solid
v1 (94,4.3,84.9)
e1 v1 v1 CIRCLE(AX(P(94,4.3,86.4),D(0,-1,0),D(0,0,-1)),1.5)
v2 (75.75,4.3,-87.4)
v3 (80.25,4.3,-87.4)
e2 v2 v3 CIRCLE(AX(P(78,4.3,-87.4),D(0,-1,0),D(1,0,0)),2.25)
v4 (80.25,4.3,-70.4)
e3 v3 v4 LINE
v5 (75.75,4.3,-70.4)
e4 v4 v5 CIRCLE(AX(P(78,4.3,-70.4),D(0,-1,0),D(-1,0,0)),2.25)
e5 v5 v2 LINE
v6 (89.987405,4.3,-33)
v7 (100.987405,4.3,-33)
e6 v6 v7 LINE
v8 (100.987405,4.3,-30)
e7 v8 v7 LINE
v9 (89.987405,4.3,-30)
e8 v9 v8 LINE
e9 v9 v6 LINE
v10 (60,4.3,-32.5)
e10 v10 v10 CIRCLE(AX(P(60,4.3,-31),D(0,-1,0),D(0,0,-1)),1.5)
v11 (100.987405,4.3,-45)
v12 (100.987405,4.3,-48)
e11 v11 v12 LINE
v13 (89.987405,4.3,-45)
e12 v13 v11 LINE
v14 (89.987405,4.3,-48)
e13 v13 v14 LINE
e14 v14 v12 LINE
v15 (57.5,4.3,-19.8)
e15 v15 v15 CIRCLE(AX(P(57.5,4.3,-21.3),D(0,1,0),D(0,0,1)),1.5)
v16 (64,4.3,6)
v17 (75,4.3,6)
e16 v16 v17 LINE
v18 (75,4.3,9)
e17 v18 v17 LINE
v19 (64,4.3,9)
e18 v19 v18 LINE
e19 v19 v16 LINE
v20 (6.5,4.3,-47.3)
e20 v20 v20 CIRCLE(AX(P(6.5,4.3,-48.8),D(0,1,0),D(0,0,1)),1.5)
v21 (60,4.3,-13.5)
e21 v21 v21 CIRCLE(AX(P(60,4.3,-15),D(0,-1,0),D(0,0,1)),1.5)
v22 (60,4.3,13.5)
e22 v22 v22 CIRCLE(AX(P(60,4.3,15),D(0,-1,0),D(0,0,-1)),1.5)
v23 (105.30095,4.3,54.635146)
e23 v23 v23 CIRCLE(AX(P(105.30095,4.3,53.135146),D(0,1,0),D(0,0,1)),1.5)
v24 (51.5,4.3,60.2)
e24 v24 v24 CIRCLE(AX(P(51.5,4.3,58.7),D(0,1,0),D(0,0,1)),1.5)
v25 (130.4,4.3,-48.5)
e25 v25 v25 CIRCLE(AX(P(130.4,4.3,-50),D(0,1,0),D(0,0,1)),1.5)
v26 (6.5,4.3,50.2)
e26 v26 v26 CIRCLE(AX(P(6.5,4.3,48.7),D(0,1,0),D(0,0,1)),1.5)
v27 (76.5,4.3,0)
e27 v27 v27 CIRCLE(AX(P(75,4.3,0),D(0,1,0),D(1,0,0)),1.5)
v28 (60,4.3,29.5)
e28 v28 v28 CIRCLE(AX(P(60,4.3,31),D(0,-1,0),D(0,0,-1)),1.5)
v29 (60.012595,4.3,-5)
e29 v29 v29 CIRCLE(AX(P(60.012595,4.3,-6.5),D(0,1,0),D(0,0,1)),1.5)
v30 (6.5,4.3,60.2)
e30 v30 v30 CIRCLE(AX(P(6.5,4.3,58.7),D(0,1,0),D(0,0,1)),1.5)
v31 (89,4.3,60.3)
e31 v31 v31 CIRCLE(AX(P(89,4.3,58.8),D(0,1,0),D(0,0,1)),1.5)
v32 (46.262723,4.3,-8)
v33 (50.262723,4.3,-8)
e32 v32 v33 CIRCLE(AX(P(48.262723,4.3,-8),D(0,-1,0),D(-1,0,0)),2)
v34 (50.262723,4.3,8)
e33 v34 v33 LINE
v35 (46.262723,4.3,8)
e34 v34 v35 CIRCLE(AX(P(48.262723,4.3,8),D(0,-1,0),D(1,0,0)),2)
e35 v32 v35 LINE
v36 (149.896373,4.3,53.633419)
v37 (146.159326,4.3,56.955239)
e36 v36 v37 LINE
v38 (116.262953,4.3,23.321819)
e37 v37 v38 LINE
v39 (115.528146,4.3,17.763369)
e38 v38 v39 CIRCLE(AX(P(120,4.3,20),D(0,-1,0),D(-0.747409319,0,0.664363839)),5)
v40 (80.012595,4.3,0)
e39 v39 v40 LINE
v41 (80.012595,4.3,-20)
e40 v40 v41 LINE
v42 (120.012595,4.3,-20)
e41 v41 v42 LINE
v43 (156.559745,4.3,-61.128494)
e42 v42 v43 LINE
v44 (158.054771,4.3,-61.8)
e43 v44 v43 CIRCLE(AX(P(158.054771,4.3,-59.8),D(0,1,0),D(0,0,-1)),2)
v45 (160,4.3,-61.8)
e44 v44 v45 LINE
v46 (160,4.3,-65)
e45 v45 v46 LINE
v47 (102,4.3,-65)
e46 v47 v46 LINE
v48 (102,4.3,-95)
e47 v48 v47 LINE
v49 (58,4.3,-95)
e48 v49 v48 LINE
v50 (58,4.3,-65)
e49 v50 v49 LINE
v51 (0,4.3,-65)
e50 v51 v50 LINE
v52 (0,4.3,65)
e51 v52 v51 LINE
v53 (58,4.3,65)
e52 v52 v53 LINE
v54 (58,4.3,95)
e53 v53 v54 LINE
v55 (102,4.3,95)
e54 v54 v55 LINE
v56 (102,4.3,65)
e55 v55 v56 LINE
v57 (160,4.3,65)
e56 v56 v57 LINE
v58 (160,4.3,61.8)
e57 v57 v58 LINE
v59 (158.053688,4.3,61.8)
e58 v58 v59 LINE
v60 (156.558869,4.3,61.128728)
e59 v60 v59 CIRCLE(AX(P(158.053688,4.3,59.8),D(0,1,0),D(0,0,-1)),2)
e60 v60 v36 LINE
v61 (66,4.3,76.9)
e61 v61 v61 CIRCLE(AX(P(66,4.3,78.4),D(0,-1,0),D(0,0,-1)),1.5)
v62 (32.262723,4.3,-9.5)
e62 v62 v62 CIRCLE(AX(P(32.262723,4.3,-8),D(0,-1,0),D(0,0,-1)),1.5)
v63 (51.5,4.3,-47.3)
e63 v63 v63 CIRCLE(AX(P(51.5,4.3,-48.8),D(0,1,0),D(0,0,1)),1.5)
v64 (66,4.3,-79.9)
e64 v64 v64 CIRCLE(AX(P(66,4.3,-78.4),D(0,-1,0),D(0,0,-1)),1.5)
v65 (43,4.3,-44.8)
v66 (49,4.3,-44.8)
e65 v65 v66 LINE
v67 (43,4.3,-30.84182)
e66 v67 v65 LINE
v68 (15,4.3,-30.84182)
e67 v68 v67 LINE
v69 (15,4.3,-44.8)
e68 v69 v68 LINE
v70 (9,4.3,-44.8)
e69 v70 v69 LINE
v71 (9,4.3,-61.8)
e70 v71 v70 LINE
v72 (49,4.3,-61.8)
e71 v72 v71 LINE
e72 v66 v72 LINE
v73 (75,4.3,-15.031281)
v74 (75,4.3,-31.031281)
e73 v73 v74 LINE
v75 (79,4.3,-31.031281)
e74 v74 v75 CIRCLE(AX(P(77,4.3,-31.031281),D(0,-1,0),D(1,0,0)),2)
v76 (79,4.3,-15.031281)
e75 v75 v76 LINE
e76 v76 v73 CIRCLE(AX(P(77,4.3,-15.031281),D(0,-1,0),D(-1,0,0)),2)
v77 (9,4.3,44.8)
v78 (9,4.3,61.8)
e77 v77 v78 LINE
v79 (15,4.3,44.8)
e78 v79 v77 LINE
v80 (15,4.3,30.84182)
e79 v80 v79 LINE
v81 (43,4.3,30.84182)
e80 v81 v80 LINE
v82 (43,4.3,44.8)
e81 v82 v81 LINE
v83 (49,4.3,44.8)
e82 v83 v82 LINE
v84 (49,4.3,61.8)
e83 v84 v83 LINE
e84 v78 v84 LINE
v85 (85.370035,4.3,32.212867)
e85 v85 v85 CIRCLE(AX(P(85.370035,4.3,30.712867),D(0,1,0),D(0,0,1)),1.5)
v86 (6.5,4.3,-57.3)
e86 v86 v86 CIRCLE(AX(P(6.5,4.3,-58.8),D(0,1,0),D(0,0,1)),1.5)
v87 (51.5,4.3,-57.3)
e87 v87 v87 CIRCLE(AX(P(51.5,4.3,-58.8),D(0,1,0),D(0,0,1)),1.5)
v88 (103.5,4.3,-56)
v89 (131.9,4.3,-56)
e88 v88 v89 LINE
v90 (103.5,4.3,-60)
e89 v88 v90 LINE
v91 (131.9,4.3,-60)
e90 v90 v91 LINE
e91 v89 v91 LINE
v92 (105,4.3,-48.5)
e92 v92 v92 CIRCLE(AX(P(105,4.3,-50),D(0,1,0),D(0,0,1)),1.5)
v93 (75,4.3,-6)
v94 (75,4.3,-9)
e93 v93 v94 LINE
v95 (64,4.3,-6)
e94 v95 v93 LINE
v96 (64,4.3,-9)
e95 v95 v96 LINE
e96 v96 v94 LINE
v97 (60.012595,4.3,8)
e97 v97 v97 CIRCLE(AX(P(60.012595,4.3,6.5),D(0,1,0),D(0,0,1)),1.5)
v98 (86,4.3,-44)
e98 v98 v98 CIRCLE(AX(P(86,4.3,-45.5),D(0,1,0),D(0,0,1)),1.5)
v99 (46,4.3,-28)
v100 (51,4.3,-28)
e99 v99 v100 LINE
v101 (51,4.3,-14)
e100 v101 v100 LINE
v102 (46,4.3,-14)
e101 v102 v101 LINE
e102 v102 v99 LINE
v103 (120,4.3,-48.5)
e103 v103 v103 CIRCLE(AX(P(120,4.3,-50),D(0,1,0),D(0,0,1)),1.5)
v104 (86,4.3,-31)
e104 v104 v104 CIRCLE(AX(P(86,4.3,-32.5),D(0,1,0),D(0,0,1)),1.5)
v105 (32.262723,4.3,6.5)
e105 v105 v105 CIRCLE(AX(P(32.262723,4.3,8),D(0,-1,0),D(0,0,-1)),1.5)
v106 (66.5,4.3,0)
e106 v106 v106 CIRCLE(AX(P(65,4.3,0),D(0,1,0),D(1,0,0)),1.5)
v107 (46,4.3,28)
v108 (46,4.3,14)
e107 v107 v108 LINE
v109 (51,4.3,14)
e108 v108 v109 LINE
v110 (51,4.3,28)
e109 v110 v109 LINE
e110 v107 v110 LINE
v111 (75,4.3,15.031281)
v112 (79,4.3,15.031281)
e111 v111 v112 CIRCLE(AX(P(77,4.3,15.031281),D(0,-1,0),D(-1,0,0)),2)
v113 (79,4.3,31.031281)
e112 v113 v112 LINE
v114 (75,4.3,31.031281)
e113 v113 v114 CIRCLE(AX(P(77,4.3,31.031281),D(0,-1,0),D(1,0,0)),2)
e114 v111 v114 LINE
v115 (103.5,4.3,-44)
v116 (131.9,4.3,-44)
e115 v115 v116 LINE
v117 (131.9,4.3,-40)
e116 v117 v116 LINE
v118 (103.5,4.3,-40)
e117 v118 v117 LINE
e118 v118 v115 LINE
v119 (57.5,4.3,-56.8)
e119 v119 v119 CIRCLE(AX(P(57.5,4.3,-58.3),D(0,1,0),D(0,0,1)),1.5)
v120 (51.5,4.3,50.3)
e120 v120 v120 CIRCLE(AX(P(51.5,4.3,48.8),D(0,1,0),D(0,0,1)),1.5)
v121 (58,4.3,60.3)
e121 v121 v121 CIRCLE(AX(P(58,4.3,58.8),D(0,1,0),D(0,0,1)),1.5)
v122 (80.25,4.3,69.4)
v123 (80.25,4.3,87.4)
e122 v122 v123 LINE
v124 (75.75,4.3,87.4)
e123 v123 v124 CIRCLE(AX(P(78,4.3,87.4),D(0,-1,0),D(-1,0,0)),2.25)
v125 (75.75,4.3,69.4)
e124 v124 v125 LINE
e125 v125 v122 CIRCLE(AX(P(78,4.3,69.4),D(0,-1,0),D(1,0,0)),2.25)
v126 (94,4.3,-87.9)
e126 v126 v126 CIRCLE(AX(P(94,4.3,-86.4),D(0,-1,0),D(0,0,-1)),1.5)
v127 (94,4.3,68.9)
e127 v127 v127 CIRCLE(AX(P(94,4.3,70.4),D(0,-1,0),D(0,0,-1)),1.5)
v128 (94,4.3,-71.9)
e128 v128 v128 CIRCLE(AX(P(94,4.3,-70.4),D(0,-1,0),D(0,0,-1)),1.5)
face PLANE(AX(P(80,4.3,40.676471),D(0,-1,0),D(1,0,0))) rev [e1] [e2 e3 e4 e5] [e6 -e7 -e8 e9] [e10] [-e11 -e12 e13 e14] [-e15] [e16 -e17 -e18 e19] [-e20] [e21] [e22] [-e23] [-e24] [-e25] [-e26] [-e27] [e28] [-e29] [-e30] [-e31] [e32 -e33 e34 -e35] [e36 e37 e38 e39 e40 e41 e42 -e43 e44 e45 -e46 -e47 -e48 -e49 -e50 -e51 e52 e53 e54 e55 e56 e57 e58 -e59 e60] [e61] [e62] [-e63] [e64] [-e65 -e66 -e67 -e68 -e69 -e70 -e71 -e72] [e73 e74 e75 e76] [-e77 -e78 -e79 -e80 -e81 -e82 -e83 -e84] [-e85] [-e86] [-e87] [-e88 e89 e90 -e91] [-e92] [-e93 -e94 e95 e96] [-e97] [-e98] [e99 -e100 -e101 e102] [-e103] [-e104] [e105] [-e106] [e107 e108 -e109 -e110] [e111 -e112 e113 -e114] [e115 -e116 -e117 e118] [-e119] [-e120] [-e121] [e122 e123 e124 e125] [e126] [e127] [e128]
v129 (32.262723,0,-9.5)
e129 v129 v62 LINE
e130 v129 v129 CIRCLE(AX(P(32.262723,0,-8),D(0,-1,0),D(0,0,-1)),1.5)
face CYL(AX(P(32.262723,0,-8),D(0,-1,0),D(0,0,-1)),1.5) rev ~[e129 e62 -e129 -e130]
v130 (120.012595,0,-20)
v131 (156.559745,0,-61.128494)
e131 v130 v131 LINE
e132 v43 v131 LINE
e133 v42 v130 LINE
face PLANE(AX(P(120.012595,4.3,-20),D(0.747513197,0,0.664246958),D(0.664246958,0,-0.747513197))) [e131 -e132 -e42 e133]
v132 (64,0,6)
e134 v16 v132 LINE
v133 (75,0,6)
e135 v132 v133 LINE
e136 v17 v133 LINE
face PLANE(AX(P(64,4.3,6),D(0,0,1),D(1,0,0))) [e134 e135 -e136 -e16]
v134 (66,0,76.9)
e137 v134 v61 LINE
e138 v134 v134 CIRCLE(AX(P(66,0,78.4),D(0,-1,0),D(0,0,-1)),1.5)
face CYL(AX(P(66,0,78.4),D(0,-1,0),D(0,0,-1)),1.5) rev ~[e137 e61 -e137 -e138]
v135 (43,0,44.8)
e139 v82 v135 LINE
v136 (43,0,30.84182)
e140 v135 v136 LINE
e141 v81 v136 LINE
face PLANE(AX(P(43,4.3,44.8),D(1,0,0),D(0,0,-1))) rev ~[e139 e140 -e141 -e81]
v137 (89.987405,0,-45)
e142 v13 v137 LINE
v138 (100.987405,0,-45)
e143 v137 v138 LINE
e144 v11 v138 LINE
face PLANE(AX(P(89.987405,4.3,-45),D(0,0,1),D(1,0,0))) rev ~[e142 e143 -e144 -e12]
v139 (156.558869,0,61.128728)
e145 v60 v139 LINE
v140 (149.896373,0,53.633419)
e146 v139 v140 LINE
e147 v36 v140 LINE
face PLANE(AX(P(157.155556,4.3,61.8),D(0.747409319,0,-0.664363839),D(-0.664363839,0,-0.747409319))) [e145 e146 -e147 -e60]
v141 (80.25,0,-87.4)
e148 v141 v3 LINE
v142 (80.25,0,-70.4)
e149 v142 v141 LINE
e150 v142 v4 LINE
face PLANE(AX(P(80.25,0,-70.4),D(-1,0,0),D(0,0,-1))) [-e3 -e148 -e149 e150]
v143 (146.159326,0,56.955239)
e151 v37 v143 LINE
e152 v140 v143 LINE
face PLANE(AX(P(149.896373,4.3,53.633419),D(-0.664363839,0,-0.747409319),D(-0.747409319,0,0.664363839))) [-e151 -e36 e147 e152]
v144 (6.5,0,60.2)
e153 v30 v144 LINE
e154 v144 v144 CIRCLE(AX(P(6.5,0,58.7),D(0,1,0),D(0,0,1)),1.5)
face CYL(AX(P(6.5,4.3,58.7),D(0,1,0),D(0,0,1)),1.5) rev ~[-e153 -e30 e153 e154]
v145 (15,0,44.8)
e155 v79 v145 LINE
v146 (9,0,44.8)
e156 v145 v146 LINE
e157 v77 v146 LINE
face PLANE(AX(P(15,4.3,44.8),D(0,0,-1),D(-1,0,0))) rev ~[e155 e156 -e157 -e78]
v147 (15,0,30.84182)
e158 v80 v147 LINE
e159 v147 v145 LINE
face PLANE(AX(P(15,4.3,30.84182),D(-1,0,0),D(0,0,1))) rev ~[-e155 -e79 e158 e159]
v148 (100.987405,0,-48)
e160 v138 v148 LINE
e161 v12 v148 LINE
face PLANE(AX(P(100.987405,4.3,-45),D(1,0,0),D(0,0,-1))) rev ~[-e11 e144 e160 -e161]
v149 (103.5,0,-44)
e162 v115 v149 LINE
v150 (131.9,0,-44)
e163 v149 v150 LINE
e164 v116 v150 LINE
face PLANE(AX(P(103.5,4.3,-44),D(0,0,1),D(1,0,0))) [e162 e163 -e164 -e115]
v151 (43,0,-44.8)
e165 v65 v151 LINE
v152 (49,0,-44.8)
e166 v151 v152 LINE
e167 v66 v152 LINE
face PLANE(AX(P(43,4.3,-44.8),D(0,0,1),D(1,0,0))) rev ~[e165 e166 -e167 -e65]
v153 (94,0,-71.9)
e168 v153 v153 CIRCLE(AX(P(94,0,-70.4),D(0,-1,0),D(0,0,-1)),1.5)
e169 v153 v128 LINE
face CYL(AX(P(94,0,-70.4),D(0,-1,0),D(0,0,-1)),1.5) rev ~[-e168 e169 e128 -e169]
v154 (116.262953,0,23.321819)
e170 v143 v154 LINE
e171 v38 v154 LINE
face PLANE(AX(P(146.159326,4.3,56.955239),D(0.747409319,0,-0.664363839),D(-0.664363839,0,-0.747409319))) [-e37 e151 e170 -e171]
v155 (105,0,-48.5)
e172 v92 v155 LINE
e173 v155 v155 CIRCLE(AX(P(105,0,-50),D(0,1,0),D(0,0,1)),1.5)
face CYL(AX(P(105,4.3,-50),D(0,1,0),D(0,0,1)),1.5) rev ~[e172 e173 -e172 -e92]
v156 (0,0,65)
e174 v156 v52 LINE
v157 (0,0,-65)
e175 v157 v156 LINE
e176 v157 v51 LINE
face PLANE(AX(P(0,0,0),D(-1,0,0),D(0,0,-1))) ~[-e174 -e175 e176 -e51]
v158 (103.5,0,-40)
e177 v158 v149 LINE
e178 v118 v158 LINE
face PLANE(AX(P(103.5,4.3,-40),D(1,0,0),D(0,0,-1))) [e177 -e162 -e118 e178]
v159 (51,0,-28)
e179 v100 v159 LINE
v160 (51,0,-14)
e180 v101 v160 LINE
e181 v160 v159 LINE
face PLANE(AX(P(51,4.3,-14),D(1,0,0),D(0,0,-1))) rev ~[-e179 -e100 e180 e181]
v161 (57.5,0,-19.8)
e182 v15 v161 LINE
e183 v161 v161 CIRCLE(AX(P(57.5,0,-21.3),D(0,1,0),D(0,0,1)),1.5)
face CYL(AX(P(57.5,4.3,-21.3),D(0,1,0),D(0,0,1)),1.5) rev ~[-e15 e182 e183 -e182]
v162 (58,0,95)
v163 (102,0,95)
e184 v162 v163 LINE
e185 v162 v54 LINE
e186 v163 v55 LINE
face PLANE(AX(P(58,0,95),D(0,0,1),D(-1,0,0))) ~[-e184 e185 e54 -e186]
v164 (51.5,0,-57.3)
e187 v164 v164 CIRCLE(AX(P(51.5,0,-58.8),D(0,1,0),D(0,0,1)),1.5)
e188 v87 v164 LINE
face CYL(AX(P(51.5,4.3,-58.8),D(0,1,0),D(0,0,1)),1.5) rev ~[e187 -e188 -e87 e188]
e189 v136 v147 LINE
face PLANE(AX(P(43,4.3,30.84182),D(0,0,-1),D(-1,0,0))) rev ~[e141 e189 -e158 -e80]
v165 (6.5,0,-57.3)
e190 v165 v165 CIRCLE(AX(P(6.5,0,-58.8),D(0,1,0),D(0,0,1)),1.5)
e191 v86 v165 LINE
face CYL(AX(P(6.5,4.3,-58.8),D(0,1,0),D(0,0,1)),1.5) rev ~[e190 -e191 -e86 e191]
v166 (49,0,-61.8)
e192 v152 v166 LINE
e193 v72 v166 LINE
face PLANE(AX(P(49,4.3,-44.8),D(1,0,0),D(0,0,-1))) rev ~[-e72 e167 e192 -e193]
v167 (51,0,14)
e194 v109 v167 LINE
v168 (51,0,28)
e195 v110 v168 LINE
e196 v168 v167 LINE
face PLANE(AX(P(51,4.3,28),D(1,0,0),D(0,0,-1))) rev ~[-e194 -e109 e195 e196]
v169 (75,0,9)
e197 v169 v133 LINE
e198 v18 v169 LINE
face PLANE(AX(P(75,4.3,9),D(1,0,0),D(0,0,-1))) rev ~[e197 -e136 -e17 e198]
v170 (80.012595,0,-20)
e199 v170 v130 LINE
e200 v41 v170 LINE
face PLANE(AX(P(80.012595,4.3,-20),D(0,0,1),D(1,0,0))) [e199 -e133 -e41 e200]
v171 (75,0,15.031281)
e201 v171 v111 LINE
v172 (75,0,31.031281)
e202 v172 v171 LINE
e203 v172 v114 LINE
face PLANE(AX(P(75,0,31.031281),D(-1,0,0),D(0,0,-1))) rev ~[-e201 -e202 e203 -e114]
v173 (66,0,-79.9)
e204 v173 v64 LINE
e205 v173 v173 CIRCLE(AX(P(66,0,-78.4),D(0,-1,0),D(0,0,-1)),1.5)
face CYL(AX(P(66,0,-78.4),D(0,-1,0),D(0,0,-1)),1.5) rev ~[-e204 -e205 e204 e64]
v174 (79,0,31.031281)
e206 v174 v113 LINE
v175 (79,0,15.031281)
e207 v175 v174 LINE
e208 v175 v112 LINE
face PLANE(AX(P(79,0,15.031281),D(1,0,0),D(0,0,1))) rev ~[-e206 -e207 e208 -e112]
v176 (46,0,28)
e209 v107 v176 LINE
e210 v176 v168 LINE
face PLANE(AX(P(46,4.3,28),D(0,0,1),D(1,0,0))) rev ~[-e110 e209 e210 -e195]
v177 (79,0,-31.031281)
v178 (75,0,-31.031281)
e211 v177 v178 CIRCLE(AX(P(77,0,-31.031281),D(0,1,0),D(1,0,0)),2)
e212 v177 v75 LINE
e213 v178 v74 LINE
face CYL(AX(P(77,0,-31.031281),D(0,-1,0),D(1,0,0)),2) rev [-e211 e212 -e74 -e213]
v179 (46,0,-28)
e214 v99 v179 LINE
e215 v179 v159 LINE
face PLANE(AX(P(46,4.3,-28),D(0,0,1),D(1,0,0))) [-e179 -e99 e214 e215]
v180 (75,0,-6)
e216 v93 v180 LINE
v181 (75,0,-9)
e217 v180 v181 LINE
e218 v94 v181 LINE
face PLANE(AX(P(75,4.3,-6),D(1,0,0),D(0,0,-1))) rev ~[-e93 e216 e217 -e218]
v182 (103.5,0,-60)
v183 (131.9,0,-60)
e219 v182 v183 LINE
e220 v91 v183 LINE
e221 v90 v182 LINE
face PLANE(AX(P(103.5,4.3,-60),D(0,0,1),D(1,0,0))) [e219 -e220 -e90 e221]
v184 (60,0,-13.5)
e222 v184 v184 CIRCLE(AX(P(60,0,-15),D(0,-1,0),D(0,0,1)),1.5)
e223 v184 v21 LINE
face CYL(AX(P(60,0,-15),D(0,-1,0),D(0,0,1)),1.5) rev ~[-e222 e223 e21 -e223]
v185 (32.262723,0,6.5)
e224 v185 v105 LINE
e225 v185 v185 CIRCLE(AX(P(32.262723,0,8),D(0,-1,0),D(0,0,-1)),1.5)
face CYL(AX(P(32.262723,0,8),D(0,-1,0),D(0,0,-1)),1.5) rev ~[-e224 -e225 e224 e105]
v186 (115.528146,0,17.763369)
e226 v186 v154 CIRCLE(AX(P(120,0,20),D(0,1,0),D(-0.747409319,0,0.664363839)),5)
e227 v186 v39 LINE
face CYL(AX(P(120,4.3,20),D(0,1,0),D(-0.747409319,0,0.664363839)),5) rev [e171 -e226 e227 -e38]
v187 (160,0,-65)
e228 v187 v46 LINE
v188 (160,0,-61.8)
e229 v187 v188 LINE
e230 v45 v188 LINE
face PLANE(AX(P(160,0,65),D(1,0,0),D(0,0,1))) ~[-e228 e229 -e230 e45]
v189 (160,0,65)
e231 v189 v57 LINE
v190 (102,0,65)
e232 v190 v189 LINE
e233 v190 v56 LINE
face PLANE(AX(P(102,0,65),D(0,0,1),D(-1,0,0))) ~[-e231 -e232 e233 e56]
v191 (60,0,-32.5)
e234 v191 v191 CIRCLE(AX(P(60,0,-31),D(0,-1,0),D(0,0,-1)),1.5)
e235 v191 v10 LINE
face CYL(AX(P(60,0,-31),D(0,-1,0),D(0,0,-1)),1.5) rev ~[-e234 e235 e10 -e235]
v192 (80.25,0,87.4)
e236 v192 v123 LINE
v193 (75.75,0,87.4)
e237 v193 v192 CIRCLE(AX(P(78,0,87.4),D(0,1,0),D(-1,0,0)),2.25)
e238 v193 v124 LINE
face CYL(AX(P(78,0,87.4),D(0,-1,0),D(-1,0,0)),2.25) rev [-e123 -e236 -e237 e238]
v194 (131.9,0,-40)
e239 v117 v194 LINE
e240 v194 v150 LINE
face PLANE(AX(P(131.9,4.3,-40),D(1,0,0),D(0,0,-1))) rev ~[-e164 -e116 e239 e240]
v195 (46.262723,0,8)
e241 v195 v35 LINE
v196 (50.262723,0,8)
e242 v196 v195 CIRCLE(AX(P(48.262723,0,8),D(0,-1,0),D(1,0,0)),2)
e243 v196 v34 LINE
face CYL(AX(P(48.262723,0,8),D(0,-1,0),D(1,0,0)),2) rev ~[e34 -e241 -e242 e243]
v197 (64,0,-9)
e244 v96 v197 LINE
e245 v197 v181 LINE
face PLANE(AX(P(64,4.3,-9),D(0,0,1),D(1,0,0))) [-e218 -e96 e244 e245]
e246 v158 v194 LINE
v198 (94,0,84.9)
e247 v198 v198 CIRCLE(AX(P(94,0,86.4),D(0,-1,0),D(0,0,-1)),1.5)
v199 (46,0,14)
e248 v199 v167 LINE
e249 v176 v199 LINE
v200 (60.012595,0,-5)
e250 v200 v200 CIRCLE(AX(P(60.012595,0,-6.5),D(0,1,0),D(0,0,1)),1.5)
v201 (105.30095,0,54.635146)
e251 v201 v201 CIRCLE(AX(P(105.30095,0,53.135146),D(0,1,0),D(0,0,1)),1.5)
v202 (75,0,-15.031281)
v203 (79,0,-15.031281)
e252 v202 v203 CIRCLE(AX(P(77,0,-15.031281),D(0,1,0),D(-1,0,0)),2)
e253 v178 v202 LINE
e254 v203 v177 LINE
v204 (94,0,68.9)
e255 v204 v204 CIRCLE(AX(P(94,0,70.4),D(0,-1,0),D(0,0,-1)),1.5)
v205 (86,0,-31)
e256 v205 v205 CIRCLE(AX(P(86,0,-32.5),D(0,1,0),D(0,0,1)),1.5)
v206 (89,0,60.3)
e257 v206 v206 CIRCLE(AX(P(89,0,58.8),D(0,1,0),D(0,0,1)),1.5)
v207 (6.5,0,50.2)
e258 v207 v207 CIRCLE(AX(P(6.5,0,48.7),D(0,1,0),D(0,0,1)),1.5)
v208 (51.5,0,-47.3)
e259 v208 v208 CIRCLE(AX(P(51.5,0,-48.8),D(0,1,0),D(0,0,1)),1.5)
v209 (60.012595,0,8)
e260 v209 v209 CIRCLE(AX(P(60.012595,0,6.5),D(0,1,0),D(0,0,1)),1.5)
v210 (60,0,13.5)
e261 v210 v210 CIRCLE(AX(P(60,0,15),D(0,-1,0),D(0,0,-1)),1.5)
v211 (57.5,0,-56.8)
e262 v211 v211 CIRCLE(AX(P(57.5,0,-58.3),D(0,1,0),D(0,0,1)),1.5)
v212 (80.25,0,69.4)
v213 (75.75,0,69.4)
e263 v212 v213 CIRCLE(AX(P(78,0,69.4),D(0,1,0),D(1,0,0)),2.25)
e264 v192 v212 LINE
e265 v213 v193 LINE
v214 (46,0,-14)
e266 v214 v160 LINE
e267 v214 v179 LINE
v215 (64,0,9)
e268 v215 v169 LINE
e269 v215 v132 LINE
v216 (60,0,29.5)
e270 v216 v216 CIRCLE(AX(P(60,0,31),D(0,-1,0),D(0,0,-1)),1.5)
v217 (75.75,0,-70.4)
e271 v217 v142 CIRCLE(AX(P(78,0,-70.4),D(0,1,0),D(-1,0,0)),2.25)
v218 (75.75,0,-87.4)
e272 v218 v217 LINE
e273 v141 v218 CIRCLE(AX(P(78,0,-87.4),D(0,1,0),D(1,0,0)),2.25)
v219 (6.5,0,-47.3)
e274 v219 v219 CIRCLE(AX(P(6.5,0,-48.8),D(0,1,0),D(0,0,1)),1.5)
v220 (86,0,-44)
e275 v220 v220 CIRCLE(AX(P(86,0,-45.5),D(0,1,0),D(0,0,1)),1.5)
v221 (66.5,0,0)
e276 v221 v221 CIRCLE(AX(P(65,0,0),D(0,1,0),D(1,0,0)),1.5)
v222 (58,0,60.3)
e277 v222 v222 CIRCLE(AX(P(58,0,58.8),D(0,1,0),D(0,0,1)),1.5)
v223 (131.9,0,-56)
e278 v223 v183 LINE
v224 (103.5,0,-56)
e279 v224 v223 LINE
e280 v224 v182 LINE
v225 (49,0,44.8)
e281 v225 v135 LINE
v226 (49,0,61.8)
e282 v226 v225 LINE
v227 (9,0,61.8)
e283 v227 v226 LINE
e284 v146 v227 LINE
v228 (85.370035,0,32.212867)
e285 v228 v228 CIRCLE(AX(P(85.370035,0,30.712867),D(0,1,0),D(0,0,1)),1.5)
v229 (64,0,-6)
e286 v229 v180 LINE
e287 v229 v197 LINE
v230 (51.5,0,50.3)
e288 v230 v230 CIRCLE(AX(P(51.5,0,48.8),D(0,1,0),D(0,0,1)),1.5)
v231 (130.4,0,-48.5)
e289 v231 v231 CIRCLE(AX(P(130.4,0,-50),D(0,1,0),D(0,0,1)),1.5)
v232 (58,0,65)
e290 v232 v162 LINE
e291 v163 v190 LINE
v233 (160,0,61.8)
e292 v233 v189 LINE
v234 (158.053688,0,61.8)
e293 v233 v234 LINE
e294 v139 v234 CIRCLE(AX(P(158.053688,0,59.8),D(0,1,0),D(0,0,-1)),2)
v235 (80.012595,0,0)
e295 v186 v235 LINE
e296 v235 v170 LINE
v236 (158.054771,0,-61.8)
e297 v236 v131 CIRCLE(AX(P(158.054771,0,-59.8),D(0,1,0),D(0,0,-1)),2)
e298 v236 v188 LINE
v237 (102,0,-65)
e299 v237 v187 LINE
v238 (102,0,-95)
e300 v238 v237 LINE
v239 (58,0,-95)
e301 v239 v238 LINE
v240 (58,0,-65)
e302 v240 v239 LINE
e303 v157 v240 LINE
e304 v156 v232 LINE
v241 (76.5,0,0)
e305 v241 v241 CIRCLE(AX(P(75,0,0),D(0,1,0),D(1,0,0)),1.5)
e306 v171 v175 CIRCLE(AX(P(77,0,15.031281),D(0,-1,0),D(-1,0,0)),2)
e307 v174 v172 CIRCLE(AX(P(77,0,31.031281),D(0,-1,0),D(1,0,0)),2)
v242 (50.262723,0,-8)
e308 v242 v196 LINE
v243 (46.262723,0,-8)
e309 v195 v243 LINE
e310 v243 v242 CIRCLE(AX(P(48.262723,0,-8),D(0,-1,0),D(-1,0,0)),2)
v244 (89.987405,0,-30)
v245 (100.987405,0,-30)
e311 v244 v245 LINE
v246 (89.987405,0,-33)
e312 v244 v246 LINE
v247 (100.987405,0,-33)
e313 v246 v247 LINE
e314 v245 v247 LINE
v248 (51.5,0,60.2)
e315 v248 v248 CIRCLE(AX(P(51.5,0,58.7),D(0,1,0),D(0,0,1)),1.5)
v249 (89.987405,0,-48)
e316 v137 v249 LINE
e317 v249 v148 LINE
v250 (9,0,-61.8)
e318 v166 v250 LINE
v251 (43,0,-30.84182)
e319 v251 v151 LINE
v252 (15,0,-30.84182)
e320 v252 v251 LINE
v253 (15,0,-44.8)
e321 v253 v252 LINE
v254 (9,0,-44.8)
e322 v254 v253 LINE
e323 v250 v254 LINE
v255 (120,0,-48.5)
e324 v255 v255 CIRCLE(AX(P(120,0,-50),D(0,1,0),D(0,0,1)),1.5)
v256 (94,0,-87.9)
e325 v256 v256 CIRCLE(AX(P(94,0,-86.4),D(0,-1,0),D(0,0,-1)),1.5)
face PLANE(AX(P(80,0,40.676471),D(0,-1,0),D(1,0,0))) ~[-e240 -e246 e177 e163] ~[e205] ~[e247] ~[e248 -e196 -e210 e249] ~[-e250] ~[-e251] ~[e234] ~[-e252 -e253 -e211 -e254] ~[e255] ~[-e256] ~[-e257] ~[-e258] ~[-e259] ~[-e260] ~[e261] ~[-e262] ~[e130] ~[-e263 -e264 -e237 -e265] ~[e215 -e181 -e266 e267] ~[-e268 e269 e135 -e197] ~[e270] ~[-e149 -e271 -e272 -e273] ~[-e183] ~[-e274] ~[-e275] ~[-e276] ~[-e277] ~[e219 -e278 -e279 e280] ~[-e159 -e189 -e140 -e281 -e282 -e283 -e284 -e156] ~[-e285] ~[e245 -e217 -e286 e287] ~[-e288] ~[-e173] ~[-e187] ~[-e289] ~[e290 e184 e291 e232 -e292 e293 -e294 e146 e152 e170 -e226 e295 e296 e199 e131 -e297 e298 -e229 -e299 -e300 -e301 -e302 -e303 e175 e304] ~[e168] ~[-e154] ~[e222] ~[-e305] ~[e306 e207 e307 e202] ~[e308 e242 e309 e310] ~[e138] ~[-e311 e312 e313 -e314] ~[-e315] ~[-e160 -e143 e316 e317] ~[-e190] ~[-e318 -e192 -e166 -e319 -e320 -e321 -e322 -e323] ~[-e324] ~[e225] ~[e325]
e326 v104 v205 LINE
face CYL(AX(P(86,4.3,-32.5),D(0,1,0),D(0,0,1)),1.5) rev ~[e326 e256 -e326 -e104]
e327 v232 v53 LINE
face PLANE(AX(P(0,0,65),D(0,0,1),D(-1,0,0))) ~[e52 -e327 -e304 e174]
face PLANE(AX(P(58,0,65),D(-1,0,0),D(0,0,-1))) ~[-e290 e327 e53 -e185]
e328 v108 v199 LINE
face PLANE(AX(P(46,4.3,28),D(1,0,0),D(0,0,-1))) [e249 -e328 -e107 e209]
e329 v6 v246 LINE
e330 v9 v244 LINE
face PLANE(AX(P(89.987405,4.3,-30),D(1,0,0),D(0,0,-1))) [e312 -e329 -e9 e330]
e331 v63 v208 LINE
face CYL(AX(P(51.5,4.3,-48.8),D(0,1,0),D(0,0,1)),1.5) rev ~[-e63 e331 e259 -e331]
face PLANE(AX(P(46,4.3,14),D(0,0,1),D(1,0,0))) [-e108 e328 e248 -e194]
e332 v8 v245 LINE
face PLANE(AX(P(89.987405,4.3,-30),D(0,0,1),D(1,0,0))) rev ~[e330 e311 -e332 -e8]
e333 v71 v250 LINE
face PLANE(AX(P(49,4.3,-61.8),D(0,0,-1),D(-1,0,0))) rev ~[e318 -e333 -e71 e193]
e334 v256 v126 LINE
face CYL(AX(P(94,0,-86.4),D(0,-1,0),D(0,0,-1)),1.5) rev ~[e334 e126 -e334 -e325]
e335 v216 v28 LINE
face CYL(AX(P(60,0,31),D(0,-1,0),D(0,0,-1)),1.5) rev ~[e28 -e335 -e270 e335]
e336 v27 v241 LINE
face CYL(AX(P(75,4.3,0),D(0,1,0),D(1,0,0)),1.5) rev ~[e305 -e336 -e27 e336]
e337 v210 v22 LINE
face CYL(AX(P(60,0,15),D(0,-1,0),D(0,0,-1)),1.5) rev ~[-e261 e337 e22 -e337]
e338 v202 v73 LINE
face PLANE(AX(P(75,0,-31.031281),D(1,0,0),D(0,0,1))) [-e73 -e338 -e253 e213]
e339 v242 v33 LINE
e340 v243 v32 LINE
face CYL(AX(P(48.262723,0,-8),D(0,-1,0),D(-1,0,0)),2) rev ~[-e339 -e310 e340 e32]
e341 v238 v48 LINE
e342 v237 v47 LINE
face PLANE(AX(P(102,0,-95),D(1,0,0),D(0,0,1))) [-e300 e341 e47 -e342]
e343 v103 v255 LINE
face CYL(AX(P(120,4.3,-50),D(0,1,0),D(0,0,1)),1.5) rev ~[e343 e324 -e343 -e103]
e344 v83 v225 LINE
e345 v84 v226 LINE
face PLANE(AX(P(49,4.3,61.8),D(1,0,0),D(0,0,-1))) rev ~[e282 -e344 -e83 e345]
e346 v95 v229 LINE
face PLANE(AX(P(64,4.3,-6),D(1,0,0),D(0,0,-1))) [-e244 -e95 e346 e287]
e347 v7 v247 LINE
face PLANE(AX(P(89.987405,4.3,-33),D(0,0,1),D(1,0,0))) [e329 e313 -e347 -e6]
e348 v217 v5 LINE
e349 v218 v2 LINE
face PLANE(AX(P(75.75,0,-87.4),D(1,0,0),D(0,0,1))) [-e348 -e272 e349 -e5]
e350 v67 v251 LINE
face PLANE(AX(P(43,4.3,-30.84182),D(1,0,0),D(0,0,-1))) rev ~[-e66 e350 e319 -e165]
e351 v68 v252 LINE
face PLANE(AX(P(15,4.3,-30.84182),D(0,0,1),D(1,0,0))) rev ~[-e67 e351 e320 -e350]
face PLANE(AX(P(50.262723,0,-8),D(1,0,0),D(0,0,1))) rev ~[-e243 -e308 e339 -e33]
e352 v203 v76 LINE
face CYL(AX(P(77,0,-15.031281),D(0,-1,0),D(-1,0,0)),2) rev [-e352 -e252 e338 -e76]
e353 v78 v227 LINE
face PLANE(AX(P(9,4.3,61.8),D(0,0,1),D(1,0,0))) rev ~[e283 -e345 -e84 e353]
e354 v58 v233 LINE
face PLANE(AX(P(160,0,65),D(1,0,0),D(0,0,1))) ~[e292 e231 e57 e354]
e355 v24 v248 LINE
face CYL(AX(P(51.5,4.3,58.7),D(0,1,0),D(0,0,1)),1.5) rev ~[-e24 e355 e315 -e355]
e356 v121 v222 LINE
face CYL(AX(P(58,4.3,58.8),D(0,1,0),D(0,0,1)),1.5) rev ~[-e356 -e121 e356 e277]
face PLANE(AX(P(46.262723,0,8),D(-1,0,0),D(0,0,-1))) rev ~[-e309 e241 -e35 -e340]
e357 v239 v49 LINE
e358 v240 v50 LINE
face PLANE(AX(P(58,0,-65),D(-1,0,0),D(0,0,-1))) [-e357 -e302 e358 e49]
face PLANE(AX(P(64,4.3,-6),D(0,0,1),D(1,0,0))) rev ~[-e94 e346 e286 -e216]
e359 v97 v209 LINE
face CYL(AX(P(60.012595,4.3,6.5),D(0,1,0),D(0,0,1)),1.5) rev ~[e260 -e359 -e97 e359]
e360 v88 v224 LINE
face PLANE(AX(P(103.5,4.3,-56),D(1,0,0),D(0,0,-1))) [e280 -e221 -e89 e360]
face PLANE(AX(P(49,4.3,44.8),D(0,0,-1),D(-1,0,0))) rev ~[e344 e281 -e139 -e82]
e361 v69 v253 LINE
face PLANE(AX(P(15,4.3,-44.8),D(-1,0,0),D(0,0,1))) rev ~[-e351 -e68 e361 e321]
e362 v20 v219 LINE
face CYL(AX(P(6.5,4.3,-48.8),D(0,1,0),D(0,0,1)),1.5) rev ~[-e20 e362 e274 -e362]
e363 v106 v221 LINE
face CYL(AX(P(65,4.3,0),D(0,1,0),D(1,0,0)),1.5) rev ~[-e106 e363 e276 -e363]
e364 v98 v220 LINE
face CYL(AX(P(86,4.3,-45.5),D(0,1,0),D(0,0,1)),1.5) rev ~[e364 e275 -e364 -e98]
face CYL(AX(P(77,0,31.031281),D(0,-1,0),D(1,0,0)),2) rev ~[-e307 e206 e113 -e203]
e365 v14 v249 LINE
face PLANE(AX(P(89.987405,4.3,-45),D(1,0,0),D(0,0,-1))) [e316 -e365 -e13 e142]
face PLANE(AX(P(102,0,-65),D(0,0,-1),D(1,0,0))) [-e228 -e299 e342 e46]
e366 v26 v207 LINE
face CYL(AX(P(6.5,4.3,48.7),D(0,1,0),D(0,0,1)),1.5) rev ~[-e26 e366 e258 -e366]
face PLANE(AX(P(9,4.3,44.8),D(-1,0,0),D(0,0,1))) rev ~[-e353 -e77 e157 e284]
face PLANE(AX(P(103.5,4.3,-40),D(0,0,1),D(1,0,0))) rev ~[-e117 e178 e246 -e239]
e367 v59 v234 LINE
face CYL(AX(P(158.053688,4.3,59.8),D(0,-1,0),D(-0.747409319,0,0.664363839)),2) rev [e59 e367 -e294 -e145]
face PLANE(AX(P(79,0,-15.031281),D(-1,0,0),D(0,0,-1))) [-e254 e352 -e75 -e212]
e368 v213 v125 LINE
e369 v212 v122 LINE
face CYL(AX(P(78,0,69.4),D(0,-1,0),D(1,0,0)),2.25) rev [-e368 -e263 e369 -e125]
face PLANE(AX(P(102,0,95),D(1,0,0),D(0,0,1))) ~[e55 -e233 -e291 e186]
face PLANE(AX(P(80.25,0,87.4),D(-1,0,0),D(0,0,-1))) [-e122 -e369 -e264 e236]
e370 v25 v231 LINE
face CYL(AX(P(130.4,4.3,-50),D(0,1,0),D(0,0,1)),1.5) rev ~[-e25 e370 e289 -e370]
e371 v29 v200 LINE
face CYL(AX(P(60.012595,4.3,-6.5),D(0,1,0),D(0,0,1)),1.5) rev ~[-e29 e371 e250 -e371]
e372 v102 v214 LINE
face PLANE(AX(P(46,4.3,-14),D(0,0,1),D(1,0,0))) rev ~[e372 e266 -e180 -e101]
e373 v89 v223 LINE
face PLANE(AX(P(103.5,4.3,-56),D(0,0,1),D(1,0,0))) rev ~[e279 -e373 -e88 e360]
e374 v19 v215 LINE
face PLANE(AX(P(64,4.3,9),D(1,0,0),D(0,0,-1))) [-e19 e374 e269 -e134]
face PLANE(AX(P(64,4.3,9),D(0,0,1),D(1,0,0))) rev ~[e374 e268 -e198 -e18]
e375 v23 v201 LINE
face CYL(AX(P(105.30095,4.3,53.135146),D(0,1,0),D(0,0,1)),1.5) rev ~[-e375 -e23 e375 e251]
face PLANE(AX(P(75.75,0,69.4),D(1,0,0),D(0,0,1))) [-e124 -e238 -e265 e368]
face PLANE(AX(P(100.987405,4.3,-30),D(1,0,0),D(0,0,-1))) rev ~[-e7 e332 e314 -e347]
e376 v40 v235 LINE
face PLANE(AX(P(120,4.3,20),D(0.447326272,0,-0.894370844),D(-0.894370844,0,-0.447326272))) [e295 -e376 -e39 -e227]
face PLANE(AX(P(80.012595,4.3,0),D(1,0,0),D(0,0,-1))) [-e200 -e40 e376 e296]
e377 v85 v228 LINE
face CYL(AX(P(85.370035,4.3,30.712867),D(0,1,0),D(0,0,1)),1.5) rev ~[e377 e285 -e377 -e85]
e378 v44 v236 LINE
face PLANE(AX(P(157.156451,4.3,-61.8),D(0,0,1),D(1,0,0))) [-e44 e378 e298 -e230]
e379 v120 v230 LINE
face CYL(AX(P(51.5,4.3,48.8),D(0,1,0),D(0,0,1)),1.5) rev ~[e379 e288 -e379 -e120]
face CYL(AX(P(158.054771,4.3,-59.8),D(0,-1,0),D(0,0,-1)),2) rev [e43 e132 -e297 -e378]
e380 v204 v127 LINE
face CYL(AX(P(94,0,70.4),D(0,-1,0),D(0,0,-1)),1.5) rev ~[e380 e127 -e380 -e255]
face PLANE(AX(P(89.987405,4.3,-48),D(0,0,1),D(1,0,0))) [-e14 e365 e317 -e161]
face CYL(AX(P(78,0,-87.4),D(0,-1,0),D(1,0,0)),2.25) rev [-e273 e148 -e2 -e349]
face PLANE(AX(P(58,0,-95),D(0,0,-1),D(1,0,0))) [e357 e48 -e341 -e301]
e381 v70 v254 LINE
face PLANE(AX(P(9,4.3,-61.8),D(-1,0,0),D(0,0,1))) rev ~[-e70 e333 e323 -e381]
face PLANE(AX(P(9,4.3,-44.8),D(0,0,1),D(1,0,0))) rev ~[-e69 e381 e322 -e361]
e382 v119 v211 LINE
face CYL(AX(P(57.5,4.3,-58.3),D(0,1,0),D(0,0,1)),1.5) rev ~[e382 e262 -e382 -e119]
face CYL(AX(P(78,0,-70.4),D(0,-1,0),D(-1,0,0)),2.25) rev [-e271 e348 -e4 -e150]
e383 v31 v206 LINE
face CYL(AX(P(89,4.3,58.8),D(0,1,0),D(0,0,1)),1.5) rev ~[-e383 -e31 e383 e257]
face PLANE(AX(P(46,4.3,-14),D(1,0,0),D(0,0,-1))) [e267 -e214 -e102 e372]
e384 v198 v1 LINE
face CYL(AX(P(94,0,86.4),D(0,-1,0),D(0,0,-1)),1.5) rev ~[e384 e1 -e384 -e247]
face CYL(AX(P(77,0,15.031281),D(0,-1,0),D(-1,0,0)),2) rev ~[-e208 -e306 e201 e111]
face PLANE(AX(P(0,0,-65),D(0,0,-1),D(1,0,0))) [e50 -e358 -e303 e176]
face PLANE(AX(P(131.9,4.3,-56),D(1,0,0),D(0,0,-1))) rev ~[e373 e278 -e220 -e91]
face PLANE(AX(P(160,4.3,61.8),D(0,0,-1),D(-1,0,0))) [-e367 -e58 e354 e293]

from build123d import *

# Parameters (mm, degrees)
BOSS_EXTRUDE1_DEPTH = 4.3
CUT_EXTRUDE1_DEPTH  = 4.5
FILLET1_R           = 2
CUT_EXTRUDE2_DEPTH  = 10
SKETCH8_R           = 1.5
CUT_EXTRUDE3_DEPTH  = 10
SKETCH9_R           = 1.5
CUT_EXTRUDE4_DEPTH  = 10
CUT_EXTRUDE5_DEPTH  = 10
SKETCH11_R          = 1.5
CUT_EXTRUDE6_DEPTH  = 10
SKETCH12_R          = 1.5
CUT_EXTRUDE7_DEPTH  = 10
SKETCH7_R           = 1.5
SKETCH7_W           = 11
SKETCH7_H           = 3
CUT_EXTRUDE8_DEPTH  = 9
SKETCH13_R          = 1.5
CUT_EXTRUDE9_DEPTH  = 10
SKETCH14_R          = 1.5
CUT_EXTRUDE10_DEPTH = 10
SKETCH15_W          = 5
SKETCH15_H          = 14
CUT_EXTRUDE11_DEPTH = 10
SKETCH16_R          = 1.5
CUT_EXTRUDE12_DEPTH = 10
SKETCH18_R          = 1.5
SKETCH18_W          = 28.4
SKETCH18_H          = 4
CUT_EXTRUDE13_DEPTH = 10


with BuildPart() as part:
    # Sketch2 → Boss-Extrude1 (new body)
    with BuildSketch(Plane(origin=(0, 0, 0), x_dir=(1, 0, 0), z_dir=(0, 1, 0))):
        Polygon((0, 0), (0, 65), (58, 65), (58, 95), (102, 95), (102, 65), (160, 65), (160, 0), align=None)
    extrude(amount=BOSS_EXTRUDE1_DEPTH)

    # Mirror1: part across plane


with BuildPart() as part_1:
    add(part.part)
    add(part.part.mirror(Plane(origin=(0, 4.3, 0), x_dir=(1, 0, 0), z_dir=(0, 0, -1))))

    # Sketch3 → Cut-Extrude1 (cut)
    with BuildSketch(Plane(origin=(0, 4.3, 0), x_dir=(1, 0, 0), z_dir=(0, 1, 0))):
        Polygon((160, -61.8), (160, 61.8), (157.156451185, 61.8), (120.012594795, 20), (80.012594795, 20), (80.012594795, 0), (120, -20), (157.155555556, -61.8), align=None)
    extrude(amount=-CUT_EXTRUDE1_DEPTH, mode=Mode.SUBTRACT)

    # Fillet1
    fillet1_edges = [part_1.edges().sort_by_distance(p)[0] for p in [
        (157.156451185, 2.15, -61.8),
        (157.155555556, 2.15, 61.8),
    ]]
    fillet(fillet1_edges, radius=FILLET1_R)

    # Sketch6 → Cut-Extrude2 (cut)
    with BuildSketch(Plane(origin=(0, 4.3, 0), x_dir=(1, 0, 0), z_dir=(0, 1, 0))):
        Polygon((9, -61.8), (49, -61.8), (49, -44.8), (43, -44.8), (43, -30.841820122), (15, -30.841820122), (15, -44.8), (9, -44.8), align=None)
        Polygon((9, 44.8), (15, 44.8), (15, 30.841820122), (43, 30.841820122), (43, 44.8), (49, 44.8), (49, 61.8), (9, 61.8), align=None)
    extrude(amount=-CUT_EXTRUDE2_DEPTH, mode=Mode.SUBTRACT)

    # Sketch8 → Cut-Extrude3 (cut)
    with BuildSketch(Plane(origin=(0, 4.3, 0), x_dir=(1, 0, 0), z_dir=(0, 1, 0))):
        with Locations((6.5, 58.8)):
            Circle(SKETCH8_R)
        with Locations((6.5, 48.8)):
            Circle(SKETCH8_R)
        with Locations((51.5, 48.8)):
            Circle(SKETCH8_R)
        with Locations((51.5, 58.8)):
            Circle(SKETCH8_R)
        with Locations((6.5, -48.7)):
            Circle(SKETCH8_R)
        with Locations((6.5, -58.7)):
            Circle(SKETCH8_R)
        with Locations((51.5, -58.7)):
            Circle(SKETCH8_R)
        with Locations((51.5, -48.8)):
            Circle(SKETCH8_R)
    extrude(amount=-CUT_EXTRUDE3_DEPTH, mode=Mode.SUBTRACT)

    # Sketch9 → Cut-Extrude4 (cut)
    with BuildSketch(Plane.XZ):
        with Locations((94, 70.4)):
            Circle(SKETCH9_R)
        with Locations((66, 78.4)):
            Circle(SKETCH9_R)
        with Locations((66, -78.4)):
            Circle(SKETCH9_R)
        with Locations((94, -86.4)):
            Circle(SKETCH9_R)
        with Locations((94, 86.4)):
            Circle(SKETCH9_R)
        with Locations((94, -70.4)):
            Circle(SKETCH9_R)
        with BuildLine():
            Line((75.75, 69.4), (75.75, 87.4))
            ThreePointArc((75.75, 87.4), (78, 89.65), (80.25, 87.4))
            Line((80.25, 87.4), (80.25, 69.4))
            ThreePointArc((80.25, 69.4), (78, 67.15), (75.75, 69.4))
        make_face()
        with BuildLine():
            Line((75.75, -87.4), (75.75, -70.4))
            ThreePointArc((75.75, -70.4), (78, -68.15), (80.25, -70.4))
            Line((80.25, -70.4), (80.25, -87.4))
            ThreePointArc((80.25, -87.4), (78, -89.65), (75.75, -87.4))
        make_face()
    extrude(amount=-CUT_EXTRUDE4_DEPTH, mode=Mode.SUBTRACT)

    # Sketch10 → Cut-Extrude5 (cut)
    with BuildSketch(Plane(origin=(0, 4.3, 0), x_dir=(1, 0, 0), z_dir=(0, 1, 0))):
        with BuildLine():
            Line((123.321819194, -23.737046593), (149.896372747, -53.633419341))
            Line((149.896372747, -53.633419341), (146.159326154, -56.955238535))
            Line((146.159326154, -56.955238535), (116.262953407, -23.321819194))
            ThreePointArc((116.262953407, -23.321819194), (120.29361011, -15.008628134), (123.321819194, -23.737046593))
        make_face()
    extrude(amount=-CUT_EXTRUDE5_DEPTH, mode=Mode.SUBTRACT)

    # Sketch11 → Cut-Extrude6 (cut)
    with BuildSketch(Plane.XZ):
        with BuildLine():
            ThreePointArc((79, 31.031280577), (77, 33.031280577), (75, 31.031280577))
            Line((75, 31.031280577), (75, 15.031280577))
            ThreePointArc((75, 15.031280577), (77, 13.031280577), (79, 15.031280577))
            Line((79, 15.031280577), (79, 31.031280577))
        make_face()
        with BuildLine():
            ThreePointArc((75, -31.031280577), (77, -33.031280577), (79, -31.031280577))
            Line((79, -31.031280577), (79, -15.031280577))
            ThreePointArc((79, -15.031280577), (77, -13.031280577), (75, -15.031280577))
            Line((75, -15.031280577), (75, -31.031280577))
        make_face()
        with Locations((60, 31)):
            Circle(SKETCH11_R)
        with Locations((60, 15)):
            Circle(SKETCH11_R)
        with Locations((60, -15)):
            Circle(SKETCH11_R)
        with Locations((60, -31)):
            Circle(SKETCH11_R)
    extrude(amount=-CUT_EXTRUDE6_DEPTH, mode=Mode.SUBTRACT)

    # Sketch12 → Cut-Extrude7 (cut)
    with BuildSketch(Plane(origin=(0, 0, 0), x_dir=(-1, 0, 0), z_dir=(0, -1, 0))):
        with BuildLine():
            ThreePointArc((-50.262723036, -8), (-48.262723036, -10), (-46.262723036, -8))
            Line((-46.262723036, -8), (-46.262723036, 8))
            ThreePointArc((-46.262723036, 8), (-48.262723036, 10), (-50.262723036, 8))
            Line((-50.262723036, 8), (-50.262723036, -8))
        make_face()
        with Locations((-32.262723036, -8)):
            Circle(SKETCH12_R)
        with Locations((-32.262723036, 8)):
            Circle(SKETCH12_R)
    extrude(amount=-CUT_EXTRUDE7_DEPTH, mode=Mode.SUBTRACT)

    # Sketch7 → Cut-Extrude8 (cut)
    with BuildSketch(Plane(origin=(0, 4.3, 0), x_dir=(1, 0, 0), z_dir=(0, 1, 0))):
        with Locations((60.012594795, -6.5)):
            Circle(SKETCH7_R)
        with Locations((60.012594795, 6.5)):
            Circle(SKETCH7_R)
        with Locations((86, 32.5)):
            Circle(SKETCH7_R)
        with Locations((86, 45.5)):
            Circle(SKETCH7_R)
        with Locations((69.5, -7.5)):
            Rectangle(SKETCH7_W, SKETCH7_H)
        with Locations((69.5, 7.5)):
            Rectangle(SKETCH7_W, SKETCH7_H)
        with Locations((95.487405205, 31.5)):
            Rectangle(SKETCH7_W, SKETCH7_H)
        with Locations((95.487405205, 46.5)):
            Rectangle(SKETCH7_W, SKETCH7_H)
    extrude(amount=-CUT_EXTRUDE8_DEPTH, mode=Mode.SUBTRACT)

    # Sketch13 → Cut-Extrude9 (cut)
    with BuildSketch(Plane(origin=(0, 4.3, 0), x_dir=(1, 0, 0), z_dir=(0, 1, 0))):
        with Locations((75, 0)):
            Circle(SKETCH13_R)
        with Locations((65, 0)):
            Circle(SKETCH13_R)
    extrude(amount=-CUT_EXTRUDE9_DEPTH, mode=Mode.SUBTRACT)

    # Sketch14 → Cut-Extrude10 (cut)
    with BuildSketch(Plane(origin=(0, 4.3, 0), x_dir=(1, 0, 0), z_dir=(0, 1, 0))):
        with Locations((57.5, 58.3)):
            Circle(SKETCH14_R)
        with Locations((57.5, 21.3)):
            Circle(SKETCH14_R)
        with Locations((85.370034901, -30.712866901)):
            Circle(SKETCH14_R)
        with Locations((105.300950066, -53.135146462)):
            Circle(SKETCH14_R)
    extrude(amount=-CUT_EXTRUDE10_DEPTH, mode=Mode.SUBTRACT)

    # Sketch15 → Cut-Extrude11 (cut)
    with BuildSketch(Plane(origin=(0, 4.3, 0), x_dir=(1, 0, 0), z_dir=(0, 1, 0))):
        with Locations((48.5, 21)):
            Rectangle(SKETCH15_W, SKETCH15_H)
        with Locations((48.5, -21)):
            Rectangle(SKETCH15_W, SKETCH15_H)
    extrude(amount=-CUT_EXTRUDE11_DEPTH, mode=Mode.SUBTRACT)

    # Sketch16 → Cut-Extrude12 (cut)
    with BuildSketch(Plane(origin=(0, 4.3, 0), x_dir=(1, 0, 0), z_dir=(0, 1, 0))):
        with Locations((89, -58.8)):
            Circle(SKETCH16_R)
        with Locations((58, -58.8)):
            Circle(SKETCH16_R)
    extrude(amount=-CUT_EXTRUDE12_DEPTH, mode=Mode.SUBTRACT)

    # Sketch18 → Cut-Extrude13 (cut)
    with BuildSketch(Plane(origin=(0, 4.3, 0), x_dir=(1, 0, 0), z_dir=(0, 1, 0))):
        with Locations((130.4, 50)):
            Circle(SKETCH18_R)
        with Locations((120, 50)):
            Circle(SKETCH18_R)
        with Locations((105, 50)):
            Circle(SKETCH18_R)
        with Locations((117.7, 58)):
            Rectangle(SKETCH18_W, SKETCH18_H)
        with Locations((117.7, 42)):
            Rectangle(SKETCH18_W, SKETCH18_H)
    extrude(amount=-CUT_EXTRUDE13_DEPTH, mode=Mode.SUBTRACT)


solid = part_1.part
